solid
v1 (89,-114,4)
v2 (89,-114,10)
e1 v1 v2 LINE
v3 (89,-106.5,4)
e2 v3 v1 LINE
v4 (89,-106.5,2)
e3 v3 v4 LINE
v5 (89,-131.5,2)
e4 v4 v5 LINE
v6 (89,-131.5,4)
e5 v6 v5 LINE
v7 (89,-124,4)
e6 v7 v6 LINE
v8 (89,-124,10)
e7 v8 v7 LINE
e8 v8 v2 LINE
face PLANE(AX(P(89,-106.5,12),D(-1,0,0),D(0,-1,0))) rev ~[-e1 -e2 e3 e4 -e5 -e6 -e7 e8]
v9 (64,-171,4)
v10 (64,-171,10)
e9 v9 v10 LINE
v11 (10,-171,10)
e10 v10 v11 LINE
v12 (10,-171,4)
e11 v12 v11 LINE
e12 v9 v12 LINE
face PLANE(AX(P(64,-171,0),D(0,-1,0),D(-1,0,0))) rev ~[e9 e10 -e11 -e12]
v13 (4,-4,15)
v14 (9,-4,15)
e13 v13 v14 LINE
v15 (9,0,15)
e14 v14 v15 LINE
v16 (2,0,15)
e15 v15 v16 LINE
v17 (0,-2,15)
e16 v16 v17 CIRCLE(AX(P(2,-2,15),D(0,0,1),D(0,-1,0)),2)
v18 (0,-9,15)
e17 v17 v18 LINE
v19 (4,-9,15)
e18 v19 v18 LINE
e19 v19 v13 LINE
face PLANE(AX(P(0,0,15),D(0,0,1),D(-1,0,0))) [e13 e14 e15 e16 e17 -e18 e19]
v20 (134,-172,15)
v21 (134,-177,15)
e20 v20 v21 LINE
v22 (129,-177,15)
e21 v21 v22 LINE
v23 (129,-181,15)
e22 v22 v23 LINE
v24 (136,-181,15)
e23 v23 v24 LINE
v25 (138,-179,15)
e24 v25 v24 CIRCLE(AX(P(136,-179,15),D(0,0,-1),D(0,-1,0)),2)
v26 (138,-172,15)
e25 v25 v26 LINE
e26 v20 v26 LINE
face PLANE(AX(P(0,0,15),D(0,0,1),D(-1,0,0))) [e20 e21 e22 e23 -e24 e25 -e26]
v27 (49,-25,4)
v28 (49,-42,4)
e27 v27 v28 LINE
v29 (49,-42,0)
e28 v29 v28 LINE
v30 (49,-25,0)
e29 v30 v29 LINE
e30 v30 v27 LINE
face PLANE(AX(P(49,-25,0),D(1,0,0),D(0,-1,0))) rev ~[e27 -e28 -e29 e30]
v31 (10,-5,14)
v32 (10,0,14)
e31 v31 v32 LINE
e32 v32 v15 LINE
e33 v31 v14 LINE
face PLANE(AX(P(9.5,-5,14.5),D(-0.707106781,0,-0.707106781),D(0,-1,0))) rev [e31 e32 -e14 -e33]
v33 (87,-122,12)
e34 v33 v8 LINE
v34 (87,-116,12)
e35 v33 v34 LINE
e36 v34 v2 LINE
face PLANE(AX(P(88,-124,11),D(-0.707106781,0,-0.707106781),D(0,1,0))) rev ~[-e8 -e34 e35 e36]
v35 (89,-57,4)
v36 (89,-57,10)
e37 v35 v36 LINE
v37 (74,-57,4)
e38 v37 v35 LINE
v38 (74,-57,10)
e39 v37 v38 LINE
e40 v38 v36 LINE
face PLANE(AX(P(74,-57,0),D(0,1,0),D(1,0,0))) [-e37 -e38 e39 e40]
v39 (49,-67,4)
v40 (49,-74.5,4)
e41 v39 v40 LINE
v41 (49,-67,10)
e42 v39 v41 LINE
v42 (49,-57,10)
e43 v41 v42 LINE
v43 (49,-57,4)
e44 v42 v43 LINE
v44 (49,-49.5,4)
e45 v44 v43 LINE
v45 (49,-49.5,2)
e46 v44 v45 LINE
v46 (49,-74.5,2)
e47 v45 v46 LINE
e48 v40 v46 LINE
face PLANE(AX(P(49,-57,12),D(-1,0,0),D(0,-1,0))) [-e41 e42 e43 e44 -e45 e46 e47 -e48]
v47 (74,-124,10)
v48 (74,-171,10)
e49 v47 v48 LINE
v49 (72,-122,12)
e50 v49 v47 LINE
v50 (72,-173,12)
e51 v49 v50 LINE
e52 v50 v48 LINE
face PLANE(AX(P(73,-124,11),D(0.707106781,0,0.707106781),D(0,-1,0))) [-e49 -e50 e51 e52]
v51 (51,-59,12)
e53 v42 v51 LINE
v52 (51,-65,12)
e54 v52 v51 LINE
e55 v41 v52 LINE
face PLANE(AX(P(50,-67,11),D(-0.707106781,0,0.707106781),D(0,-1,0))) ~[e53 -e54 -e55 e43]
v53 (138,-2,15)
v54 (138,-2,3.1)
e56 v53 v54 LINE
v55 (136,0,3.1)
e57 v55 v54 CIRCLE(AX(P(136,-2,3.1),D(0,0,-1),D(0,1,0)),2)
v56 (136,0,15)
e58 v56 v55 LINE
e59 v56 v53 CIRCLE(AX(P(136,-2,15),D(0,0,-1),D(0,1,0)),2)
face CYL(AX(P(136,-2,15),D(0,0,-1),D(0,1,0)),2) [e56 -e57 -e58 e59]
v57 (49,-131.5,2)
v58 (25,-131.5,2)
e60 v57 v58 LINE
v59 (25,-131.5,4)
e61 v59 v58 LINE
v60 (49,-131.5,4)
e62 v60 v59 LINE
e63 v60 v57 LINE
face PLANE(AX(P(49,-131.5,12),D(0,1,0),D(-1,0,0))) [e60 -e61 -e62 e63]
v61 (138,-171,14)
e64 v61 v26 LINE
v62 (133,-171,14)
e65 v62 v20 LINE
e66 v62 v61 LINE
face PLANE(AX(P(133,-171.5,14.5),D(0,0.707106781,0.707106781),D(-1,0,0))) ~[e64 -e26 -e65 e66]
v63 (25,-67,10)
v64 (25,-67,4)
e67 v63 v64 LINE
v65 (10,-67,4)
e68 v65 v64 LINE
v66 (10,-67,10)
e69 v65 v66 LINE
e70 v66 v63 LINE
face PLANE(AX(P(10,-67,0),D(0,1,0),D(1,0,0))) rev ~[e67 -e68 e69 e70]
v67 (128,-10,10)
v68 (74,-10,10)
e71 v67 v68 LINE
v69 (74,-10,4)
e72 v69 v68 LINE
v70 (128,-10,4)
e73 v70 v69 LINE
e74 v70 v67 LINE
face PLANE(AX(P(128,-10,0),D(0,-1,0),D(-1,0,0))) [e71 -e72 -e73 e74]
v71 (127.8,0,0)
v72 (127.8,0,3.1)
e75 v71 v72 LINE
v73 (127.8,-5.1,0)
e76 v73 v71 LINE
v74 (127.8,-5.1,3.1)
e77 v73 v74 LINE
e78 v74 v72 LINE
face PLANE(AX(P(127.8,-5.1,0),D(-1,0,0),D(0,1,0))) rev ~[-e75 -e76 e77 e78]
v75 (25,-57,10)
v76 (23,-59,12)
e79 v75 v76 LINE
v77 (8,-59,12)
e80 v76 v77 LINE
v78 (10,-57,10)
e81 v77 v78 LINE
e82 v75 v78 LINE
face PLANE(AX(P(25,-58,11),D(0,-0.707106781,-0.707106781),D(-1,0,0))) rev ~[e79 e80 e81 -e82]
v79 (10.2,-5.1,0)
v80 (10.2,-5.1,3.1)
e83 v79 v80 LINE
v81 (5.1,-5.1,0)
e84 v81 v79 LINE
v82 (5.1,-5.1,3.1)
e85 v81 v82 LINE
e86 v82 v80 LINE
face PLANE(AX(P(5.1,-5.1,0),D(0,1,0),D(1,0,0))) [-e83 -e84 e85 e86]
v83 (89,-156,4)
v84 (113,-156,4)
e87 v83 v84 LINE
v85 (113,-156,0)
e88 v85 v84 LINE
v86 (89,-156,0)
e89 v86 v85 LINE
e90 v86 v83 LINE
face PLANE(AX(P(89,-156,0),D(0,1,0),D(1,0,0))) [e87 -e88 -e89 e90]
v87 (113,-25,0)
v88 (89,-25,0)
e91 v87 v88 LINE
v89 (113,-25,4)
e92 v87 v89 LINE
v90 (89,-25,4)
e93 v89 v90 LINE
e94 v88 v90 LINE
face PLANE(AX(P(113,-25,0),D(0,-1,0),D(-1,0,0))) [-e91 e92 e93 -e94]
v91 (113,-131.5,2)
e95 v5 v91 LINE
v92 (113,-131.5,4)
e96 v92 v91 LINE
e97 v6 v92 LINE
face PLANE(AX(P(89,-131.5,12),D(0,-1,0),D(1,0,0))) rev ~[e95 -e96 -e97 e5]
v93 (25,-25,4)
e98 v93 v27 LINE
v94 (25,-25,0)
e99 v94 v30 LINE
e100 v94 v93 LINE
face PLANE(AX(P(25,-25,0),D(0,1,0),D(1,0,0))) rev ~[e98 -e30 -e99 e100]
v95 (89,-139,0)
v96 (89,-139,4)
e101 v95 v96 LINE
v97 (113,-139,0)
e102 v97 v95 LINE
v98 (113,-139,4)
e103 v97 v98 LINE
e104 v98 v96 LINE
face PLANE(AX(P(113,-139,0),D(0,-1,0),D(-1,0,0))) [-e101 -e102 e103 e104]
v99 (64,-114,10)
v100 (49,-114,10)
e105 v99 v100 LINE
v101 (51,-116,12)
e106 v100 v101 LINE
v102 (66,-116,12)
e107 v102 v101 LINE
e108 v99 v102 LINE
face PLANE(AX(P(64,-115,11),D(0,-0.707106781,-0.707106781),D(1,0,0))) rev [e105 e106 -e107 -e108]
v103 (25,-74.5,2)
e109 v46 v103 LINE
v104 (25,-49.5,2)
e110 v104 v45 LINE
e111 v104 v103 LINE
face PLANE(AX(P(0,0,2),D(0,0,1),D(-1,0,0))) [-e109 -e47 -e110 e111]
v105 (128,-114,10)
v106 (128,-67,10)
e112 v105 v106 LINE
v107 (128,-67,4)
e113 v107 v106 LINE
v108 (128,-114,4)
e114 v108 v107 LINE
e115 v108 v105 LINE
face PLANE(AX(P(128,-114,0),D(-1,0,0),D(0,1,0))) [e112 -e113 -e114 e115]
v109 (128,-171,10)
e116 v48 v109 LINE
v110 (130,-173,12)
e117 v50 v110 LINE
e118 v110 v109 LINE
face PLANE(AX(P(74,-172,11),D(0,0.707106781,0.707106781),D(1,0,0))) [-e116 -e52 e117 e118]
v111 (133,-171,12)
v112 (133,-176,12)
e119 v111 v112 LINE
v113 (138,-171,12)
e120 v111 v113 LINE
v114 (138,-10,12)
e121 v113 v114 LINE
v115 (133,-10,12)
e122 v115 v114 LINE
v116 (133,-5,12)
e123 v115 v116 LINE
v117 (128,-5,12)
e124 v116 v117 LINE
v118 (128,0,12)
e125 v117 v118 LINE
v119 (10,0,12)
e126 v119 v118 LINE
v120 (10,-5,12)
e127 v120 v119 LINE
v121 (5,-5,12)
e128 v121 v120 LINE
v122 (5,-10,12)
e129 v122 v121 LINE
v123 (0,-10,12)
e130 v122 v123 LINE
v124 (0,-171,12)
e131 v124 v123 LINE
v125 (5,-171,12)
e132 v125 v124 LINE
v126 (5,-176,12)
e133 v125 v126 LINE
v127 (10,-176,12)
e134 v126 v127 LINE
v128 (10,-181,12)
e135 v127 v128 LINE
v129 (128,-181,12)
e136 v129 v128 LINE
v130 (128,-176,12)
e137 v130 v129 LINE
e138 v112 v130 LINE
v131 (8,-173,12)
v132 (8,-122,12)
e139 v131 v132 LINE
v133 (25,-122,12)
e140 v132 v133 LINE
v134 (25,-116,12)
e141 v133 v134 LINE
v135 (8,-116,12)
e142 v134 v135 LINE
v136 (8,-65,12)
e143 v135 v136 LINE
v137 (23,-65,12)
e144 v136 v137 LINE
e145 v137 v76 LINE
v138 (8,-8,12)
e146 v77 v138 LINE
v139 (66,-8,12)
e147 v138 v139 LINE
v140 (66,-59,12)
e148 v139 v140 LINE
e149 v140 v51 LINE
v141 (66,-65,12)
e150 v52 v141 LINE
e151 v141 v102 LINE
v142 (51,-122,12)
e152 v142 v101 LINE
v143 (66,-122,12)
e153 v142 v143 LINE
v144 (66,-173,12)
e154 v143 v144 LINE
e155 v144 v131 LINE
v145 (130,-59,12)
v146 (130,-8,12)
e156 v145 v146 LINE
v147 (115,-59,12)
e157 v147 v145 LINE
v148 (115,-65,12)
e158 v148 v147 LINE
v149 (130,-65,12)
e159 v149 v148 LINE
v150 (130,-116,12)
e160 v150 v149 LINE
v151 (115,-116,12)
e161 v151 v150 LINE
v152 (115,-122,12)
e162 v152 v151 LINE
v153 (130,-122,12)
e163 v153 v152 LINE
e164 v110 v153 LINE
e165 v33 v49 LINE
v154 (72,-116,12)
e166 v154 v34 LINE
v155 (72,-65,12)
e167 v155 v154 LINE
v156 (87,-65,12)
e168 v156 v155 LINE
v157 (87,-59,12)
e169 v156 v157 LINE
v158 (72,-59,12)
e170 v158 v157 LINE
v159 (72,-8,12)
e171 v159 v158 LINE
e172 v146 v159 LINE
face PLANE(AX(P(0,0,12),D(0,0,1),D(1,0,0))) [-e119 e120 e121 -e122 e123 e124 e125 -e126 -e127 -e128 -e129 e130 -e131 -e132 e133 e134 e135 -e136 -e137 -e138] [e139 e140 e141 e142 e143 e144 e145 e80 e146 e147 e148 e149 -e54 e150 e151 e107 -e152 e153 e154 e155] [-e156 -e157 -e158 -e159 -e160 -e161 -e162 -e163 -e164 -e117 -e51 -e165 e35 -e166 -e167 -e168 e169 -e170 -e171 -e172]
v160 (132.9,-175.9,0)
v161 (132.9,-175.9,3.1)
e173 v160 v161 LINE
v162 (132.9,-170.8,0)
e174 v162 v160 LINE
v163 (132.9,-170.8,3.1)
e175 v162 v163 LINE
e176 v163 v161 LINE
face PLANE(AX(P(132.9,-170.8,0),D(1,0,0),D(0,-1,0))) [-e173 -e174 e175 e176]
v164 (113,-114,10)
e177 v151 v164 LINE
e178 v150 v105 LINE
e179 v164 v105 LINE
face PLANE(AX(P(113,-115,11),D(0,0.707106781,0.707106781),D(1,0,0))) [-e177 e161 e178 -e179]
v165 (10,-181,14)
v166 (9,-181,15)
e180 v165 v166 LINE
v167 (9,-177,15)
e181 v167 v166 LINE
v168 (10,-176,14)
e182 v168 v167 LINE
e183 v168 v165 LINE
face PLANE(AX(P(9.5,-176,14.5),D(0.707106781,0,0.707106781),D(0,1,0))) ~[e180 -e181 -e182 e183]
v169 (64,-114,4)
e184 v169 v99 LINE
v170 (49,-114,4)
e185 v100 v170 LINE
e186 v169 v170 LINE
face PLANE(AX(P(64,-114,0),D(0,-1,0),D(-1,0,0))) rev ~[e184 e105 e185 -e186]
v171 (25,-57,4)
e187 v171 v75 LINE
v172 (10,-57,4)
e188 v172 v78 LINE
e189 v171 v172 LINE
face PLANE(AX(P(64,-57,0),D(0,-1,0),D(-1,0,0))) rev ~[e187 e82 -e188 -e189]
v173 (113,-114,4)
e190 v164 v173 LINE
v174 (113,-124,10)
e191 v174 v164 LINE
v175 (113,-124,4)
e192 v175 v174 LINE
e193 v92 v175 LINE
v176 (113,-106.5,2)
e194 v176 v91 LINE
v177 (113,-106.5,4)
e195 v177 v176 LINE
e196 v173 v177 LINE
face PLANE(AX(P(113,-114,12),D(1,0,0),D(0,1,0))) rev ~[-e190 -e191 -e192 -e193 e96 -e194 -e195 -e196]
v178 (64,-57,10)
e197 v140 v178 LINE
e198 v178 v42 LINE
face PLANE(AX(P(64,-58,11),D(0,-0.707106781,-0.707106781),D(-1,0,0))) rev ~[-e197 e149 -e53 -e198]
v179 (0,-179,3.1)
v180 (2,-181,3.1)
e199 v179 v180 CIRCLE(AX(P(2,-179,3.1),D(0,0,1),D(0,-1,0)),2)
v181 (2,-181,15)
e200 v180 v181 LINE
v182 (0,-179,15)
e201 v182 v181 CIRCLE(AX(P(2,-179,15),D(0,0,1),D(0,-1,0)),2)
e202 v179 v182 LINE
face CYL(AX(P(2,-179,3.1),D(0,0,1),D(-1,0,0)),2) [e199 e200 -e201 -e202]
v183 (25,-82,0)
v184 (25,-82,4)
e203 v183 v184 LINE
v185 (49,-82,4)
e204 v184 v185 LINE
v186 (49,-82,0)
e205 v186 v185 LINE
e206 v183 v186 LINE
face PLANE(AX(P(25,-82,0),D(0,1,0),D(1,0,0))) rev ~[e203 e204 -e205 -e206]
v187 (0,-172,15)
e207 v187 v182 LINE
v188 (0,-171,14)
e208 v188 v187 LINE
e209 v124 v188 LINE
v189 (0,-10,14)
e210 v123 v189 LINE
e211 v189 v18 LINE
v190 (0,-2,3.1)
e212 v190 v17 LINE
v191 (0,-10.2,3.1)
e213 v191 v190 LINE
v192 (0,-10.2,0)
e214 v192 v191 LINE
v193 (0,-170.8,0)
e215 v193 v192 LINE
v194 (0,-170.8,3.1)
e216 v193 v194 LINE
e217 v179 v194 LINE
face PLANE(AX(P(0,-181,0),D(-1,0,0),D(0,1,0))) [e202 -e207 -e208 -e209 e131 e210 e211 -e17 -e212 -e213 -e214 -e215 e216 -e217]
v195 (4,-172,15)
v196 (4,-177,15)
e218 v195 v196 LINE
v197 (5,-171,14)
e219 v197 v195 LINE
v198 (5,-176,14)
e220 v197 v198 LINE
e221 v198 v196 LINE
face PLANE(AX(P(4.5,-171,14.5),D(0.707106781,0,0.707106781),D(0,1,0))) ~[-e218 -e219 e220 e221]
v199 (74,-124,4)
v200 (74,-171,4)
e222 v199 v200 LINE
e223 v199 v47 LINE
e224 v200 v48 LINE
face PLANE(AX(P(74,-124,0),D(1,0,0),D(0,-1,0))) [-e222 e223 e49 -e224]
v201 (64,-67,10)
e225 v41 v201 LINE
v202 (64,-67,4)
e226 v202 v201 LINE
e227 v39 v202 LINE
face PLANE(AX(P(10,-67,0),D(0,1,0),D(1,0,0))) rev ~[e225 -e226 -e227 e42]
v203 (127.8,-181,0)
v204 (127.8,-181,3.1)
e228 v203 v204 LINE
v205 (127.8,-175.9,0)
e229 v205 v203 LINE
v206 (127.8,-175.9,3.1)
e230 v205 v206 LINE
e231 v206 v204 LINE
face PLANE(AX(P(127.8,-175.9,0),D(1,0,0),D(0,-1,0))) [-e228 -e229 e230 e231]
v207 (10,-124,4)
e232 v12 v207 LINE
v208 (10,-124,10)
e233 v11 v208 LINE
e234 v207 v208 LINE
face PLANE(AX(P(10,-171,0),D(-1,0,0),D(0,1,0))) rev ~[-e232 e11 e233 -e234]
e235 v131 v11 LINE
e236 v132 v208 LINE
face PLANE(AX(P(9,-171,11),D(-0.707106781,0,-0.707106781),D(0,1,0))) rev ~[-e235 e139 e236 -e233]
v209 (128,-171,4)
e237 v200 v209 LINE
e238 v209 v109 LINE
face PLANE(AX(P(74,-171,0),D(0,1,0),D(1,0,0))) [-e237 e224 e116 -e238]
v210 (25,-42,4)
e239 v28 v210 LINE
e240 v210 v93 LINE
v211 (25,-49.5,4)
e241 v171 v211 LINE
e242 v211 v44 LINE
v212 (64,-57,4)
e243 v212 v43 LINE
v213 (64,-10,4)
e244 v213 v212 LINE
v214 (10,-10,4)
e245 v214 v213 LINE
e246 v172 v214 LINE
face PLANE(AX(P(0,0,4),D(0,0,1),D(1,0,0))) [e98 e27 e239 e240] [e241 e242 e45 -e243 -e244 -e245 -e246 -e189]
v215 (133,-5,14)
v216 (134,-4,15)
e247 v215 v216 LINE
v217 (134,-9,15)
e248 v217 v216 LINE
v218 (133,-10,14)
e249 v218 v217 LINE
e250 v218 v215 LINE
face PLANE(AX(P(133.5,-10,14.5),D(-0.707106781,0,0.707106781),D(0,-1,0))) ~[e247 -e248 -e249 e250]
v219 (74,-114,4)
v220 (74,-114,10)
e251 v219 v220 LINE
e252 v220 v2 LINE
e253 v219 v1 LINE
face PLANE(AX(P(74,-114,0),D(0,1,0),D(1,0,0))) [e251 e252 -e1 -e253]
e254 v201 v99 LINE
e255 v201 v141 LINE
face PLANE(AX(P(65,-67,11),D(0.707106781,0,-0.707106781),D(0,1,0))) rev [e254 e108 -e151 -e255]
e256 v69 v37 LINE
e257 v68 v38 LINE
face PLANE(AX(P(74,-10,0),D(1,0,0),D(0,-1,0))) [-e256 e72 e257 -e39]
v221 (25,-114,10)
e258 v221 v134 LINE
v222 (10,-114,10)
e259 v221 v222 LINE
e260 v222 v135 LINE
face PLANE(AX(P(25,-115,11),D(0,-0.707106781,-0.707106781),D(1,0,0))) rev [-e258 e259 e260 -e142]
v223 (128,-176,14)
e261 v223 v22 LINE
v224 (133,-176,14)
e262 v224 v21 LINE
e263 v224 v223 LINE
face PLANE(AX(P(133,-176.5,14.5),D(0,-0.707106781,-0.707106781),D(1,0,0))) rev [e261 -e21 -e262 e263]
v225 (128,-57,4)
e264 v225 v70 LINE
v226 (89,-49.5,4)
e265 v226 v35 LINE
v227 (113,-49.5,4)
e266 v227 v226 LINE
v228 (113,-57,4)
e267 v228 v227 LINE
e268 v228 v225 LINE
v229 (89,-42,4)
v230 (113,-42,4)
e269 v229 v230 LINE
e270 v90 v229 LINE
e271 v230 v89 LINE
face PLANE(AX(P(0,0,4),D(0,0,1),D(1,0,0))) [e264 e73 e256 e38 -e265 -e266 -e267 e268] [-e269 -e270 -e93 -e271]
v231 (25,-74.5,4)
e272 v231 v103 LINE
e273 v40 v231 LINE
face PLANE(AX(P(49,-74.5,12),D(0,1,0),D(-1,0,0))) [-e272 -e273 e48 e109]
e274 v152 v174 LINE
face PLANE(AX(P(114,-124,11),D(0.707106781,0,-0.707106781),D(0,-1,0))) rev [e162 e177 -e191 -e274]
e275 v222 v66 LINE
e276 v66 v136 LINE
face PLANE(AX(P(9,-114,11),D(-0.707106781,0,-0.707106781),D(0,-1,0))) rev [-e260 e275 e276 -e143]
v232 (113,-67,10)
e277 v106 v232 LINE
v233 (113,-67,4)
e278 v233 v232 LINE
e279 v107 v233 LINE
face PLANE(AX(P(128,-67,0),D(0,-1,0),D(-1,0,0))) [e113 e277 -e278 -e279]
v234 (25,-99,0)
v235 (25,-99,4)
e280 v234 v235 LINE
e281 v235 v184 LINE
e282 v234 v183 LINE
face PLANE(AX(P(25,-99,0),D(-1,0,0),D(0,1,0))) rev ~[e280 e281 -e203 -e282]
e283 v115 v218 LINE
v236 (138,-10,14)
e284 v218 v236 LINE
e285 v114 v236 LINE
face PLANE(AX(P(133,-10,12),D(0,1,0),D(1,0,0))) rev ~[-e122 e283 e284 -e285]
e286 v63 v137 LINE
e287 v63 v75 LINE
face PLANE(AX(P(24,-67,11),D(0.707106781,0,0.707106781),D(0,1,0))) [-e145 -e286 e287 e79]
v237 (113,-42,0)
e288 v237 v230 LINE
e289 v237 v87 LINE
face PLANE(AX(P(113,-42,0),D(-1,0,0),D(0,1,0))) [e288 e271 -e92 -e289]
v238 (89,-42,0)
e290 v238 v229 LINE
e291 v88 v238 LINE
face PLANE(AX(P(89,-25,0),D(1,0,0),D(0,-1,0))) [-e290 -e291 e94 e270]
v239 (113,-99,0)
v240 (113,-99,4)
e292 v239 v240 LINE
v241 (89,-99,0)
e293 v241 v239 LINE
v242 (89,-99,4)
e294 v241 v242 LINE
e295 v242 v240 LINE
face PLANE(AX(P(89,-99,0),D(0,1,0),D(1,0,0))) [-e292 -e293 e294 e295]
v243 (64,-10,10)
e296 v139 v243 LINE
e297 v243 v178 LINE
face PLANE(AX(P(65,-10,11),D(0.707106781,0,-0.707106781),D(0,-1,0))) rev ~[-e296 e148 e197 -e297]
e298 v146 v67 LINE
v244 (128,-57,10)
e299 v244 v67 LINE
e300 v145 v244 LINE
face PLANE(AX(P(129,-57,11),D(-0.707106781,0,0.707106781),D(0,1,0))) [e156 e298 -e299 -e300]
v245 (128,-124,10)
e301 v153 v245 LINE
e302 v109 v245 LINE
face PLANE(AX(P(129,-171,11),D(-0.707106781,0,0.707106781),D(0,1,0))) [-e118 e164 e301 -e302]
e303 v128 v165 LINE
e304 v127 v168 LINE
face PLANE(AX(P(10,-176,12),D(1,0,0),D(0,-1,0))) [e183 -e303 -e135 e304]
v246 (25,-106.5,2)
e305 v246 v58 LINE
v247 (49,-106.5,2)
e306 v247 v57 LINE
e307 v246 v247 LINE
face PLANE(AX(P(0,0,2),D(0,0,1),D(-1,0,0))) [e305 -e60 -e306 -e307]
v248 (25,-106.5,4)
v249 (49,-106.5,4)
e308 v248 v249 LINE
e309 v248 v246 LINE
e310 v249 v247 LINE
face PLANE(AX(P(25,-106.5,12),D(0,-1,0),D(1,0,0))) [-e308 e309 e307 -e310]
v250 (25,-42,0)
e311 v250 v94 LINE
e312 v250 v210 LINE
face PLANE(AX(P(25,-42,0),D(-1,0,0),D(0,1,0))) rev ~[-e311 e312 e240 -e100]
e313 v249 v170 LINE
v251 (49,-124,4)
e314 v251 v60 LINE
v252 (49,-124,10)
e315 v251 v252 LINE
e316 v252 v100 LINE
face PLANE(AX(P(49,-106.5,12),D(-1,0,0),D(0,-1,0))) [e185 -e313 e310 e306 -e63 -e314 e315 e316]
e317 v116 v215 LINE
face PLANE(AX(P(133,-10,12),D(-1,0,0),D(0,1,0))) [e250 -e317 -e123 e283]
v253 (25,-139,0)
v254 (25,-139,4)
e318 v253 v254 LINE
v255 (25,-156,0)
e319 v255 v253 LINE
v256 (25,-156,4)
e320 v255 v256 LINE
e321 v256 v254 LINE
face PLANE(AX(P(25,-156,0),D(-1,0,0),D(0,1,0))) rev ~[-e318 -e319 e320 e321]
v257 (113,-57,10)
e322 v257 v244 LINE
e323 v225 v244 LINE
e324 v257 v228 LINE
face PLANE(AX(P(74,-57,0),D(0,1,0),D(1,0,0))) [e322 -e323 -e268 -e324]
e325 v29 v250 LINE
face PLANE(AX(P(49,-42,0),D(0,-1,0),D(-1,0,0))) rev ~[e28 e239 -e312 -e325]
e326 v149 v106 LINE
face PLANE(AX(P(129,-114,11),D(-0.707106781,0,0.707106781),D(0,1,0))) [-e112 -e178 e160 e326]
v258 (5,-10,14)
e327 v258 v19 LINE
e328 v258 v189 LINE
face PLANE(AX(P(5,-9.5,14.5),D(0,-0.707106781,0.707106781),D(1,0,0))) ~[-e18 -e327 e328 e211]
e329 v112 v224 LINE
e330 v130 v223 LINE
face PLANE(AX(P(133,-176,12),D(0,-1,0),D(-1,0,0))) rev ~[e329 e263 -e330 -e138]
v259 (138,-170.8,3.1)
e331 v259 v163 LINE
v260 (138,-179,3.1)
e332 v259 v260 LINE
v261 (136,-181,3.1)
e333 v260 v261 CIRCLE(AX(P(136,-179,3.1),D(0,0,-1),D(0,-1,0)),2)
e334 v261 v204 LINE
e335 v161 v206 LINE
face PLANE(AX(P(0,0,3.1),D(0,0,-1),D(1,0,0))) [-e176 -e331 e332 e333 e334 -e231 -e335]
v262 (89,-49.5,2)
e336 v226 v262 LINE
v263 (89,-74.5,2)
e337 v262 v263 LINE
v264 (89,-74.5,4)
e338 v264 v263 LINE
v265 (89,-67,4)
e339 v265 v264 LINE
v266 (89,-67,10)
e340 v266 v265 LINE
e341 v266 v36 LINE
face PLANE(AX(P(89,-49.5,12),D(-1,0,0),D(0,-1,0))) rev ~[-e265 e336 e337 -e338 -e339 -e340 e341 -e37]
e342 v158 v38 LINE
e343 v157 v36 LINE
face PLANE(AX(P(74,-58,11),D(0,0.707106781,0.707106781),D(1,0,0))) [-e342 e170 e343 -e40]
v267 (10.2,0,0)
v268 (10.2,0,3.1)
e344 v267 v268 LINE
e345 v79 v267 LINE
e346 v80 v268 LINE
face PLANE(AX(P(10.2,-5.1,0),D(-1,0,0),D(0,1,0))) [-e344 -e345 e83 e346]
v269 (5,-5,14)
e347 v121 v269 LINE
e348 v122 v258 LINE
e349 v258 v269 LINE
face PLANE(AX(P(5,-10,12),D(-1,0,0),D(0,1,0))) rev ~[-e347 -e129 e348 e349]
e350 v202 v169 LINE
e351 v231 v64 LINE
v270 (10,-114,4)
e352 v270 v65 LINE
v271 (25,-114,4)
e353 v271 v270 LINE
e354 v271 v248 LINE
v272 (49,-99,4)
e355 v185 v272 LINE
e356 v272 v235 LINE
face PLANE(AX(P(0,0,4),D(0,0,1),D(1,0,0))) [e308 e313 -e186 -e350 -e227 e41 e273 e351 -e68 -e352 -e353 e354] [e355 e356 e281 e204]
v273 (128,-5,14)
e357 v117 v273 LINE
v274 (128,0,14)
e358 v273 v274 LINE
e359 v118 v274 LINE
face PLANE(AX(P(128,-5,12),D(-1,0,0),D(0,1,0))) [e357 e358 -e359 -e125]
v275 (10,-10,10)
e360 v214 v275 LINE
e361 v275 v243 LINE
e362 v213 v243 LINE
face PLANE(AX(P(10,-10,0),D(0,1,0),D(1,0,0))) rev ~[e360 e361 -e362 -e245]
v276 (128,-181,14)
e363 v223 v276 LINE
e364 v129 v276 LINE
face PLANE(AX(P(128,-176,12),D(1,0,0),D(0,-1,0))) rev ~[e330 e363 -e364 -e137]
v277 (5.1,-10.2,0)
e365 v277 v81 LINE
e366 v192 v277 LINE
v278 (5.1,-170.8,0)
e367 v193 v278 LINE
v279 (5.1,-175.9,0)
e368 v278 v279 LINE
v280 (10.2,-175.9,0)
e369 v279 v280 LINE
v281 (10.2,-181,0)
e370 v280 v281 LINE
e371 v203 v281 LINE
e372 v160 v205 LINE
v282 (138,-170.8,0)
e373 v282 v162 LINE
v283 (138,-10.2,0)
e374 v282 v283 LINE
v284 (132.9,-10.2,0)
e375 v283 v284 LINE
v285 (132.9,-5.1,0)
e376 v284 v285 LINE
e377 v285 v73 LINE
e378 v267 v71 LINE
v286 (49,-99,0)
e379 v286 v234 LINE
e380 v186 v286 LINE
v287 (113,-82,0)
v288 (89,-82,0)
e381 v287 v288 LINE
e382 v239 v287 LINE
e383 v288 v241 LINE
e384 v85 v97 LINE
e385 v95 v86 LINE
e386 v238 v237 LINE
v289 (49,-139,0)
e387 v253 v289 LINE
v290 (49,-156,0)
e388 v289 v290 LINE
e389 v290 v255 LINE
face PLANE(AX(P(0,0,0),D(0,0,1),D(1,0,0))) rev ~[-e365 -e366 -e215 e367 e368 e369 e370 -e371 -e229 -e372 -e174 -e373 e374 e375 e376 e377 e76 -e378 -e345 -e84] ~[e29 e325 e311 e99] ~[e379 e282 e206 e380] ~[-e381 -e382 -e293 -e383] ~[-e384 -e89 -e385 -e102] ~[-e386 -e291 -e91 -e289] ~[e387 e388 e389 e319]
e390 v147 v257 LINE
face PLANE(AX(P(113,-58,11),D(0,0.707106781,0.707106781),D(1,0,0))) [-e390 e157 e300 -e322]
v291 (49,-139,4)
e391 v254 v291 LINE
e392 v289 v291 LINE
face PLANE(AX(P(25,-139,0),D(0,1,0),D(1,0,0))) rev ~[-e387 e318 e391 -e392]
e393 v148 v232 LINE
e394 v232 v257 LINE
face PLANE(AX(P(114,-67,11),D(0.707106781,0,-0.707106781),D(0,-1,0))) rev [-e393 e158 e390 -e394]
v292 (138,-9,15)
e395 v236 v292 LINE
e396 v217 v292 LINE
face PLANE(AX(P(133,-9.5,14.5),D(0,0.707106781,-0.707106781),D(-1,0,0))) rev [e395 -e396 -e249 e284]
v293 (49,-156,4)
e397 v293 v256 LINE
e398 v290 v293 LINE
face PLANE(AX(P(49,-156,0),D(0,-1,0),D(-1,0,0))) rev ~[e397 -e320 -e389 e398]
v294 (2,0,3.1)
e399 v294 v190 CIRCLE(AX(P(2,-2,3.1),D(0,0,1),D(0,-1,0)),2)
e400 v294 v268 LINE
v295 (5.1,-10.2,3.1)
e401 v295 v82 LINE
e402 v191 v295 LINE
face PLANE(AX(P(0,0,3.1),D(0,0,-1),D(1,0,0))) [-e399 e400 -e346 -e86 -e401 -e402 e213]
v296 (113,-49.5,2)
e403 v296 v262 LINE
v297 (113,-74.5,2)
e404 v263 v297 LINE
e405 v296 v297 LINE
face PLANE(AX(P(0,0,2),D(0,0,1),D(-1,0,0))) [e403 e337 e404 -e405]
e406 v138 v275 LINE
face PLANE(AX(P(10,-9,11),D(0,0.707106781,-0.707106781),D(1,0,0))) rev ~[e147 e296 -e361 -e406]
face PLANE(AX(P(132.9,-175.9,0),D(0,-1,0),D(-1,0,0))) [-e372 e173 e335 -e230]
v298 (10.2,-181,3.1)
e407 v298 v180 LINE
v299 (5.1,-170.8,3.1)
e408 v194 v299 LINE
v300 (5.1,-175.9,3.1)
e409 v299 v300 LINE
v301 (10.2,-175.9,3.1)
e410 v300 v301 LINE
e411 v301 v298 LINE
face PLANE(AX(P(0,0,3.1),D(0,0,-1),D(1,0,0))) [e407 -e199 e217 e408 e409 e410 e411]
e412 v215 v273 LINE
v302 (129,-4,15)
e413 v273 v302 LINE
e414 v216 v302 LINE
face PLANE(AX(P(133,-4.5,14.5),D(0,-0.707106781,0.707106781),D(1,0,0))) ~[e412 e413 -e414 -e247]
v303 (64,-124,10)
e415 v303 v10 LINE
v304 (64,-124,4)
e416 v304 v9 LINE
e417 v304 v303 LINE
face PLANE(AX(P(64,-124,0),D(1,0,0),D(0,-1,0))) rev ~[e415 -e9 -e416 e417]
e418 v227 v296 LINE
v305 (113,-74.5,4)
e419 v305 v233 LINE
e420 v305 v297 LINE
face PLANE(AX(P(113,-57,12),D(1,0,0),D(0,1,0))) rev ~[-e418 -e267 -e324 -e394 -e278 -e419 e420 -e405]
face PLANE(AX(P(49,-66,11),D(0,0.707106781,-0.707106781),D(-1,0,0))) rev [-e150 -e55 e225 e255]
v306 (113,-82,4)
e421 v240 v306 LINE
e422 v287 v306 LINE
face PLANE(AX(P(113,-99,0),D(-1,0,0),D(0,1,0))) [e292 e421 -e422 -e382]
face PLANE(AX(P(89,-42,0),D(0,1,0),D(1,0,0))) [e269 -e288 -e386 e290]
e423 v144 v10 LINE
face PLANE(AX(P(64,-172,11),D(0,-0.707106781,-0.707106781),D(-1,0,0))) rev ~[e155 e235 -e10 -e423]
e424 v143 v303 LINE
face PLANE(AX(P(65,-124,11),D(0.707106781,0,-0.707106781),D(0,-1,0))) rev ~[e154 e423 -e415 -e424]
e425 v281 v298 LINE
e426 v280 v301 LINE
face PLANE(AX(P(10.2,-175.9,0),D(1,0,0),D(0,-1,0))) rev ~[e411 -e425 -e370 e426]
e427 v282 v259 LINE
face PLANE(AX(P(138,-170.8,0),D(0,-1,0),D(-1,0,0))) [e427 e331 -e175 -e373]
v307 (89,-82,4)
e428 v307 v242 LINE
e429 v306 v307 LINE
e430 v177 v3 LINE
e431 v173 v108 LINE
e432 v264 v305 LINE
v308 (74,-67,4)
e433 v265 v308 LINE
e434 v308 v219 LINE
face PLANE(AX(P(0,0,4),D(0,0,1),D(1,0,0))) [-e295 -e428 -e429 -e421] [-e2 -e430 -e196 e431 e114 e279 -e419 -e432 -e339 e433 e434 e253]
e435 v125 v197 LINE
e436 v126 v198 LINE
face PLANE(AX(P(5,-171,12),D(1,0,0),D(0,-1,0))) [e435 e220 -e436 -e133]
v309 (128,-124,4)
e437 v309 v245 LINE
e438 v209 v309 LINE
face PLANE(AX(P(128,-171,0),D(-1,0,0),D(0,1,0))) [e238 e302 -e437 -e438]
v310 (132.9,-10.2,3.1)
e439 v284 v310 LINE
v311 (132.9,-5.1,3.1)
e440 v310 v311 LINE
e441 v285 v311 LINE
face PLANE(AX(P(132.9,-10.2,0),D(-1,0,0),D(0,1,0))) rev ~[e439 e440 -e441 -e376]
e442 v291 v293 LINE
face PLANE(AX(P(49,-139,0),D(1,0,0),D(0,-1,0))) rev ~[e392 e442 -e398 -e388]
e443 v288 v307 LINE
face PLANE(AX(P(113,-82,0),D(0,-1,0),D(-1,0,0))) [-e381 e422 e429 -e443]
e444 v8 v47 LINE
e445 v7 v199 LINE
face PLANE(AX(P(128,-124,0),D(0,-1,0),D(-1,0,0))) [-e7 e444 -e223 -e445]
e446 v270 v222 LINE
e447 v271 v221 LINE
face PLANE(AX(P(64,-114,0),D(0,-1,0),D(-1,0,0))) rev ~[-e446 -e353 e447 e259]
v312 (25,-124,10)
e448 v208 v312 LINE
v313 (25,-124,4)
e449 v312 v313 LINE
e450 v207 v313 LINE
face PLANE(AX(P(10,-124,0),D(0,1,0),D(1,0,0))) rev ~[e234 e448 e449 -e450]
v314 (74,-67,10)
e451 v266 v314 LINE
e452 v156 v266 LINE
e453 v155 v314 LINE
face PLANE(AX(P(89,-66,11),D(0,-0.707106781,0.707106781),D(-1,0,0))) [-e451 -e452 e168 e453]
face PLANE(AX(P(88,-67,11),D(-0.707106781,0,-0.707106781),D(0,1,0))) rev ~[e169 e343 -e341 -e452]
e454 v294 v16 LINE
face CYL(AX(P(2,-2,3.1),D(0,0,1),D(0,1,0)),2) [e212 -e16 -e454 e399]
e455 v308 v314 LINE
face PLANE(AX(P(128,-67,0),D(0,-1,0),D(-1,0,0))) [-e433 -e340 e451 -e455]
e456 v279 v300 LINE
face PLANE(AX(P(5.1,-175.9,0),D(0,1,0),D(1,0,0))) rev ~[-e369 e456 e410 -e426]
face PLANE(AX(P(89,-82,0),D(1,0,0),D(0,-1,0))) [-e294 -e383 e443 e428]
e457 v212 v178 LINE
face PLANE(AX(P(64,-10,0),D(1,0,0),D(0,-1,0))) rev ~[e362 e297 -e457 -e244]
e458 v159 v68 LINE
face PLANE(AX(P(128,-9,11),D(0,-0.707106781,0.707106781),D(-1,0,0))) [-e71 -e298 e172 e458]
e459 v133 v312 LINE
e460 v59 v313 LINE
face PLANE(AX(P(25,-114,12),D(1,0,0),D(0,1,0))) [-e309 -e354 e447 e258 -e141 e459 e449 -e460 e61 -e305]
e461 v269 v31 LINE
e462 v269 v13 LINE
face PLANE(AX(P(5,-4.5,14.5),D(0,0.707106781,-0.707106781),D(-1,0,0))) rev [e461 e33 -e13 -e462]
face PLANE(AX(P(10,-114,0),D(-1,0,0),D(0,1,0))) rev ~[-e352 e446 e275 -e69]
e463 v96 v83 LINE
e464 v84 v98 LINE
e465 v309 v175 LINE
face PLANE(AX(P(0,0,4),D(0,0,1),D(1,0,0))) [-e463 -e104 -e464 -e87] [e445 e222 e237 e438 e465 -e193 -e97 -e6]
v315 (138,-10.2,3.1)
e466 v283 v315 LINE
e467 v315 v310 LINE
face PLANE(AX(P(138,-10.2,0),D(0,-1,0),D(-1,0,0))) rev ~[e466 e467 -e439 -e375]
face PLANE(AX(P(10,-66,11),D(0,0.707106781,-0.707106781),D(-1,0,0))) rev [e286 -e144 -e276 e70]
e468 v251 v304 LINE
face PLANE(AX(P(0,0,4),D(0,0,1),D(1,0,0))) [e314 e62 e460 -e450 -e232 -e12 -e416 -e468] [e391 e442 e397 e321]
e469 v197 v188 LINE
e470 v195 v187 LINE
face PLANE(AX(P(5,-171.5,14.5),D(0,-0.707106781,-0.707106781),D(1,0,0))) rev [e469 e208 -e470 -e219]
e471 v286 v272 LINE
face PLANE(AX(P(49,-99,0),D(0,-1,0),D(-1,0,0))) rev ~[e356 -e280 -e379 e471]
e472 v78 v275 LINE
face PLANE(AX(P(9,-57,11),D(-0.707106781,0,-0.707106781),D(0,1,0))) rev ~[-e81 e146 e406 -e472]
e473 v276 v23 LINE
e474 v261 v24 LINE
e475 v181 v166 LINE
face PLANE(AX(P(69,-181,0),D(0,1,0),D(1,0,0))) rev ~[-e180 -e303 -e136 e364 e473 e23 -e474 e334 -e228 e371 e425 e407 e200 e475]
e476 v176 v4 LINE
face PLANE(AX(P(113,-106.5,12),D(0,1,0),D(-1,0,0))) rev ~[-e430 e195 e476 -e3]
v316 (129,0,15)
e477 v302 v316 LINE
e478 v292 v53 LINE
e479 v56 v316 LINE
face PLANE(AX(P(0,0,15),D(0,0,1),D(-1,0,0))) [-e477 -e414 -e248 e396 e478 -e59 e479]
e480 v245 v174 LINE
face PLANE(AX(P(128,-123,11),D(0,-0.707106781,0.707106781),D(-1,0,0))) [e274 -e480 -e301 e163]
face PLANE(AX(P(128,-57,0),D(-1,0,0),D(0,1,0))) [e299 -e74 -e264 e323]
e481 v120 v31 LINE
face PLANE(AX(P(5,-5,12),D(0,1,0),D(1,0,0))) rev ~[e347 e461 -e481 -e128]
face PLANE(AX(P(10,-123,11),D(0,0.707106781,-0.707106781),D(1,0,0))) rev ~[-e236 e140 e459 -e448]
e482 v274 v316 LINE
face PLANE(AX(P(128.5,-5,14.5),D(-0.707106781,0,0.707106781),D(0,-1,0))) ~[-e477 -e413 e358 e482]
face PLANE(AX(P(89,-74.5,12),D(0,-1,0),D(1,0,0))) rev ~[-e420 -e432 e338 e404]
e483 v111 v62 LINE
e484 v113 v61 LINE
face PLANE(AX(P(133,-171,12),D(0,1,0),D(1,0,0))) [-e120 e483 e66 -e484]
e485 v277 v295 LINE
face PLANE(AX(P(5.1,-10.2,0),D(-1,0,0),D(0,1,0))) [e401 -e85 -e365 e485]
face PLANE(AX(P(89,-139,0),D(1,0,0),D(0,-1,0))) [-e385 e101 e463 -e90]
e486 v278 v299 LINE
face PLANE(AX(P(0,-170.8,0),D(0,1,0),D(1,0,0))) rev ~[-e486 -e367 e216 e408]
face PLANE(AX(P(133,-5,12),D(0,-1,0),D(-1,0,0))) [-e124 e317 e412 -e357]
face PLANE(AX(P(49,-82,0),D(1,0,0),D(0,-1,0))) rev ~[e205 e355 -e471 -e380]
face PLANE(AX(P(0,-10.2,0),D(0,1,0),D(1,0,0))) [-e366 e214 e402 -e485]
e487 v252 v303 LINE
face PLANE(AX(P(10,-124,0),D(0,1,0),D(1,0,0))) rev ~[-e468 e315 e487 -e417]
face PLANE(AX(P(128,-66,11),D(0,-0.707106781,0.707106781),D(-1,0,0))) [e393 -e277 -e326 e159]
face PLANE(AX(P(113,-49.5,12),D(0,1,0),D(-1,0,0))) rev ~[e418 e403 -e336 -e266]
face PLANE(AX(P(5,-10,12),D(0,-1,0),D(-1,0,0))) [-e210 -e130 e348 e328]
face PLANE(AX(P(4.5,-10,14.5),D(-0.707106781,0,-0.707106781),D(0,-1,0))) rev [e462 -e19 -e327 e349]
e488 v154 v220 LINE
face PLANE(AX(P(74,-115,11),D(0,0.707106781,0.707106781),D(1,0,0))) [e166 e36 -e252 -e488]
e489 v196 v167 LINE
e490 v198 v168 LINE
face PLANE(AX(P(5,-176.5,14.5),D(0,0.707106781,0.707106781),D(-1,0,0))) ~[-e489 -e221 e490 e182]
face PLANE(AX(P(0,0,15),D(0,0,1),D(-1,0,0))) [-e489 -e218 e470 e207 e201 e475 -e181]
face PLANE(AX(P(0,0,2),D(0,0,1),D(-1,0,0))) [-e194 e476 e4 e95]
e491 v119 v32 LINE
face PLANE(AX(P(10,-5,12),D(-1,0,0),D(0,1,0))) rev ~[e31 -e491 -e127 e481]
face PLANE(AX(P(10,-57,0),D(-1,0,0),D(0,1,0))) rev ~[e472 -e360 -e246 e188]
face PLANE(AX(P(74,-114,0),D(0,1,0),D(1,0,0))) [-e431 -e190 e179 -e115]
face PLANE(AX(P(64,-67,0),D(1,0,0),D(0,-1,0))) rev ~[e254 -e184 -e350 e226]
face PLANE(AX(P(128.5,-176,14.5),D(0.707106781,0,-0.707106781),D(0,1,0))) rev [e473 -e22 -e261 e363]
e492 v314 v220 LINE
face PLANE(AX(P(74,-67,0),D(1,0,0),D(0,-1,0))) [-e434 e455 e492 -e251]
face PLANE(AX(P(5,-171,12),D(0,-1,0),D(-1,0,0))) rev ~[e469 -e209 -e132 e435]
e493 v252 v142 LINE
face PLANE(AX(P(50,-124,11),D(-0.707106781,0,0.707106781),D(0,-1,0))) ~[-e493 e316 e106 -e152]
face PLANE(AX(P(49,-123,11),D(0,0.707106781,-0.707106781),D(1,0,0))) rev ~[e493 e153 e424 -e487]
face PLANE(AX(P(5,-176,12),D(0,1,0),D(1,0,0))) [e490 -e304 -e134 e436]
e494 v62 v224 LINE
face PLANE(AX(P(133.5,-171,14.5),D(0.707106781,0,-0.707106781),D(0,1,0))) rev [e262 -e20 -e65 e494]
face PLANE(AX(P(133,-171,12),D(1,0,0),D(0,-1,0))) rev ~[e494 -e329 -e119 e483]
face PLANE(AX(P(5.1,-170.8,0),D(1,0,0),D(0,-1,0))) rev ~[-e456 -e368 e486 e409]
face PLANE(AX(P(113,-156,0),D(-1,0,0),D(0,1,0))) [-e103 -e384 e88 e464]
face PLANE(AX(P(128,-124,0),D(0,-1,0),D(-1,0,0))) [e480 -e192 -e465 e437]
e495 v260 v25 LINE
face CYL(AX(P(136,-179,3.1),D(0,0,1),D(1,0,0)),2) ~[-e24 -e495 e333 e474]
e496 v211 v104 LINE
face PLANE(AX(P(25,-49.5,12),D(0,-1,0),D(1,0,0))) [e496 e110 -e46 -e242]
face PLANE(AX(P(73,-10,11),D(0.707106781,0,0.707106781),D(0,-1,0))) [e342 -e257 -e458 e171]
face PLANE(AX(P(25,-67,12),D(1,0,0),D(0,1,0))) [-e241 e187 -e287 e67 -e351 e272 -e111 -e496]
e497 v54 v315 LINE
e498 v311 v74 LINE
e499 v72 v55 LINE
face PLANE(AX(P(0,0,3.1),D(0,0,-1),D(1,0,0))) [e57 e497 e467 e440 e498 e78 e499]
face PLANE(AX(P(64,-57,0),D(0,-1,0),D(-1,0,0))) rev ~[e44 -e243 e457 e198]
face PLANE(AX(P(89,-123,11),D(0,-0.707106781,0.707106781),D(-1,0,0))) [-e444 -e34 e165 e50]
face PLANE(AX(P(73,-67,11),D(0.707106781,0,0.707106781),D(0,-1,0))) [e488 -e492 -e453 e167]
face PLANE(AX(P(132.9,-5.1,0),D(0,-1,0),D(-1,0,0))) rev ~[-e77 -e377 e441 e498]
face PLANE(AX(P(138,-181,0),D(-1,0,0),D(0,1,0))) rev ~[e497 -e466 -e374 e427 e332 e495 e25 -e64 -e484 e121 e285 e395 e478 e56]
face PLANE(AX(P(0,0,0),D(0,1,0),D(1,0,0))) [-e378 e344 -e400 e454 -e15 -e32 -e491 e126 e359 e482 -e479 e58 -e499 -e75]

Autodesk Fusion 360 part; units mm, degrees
sketch "Esquisse1" plane through (0, 0, 0) normal (0, 0, 1) x (1, 0, 0)
  line L0 (0, 0) -> (69, 0)
  line L1 (69, -181) -> (0, -181)
  line L2 (0, -181) -> (0, 0)
  line L3 (10, -10) -> (64, -10)
  line L4 (64, -10) -> (64, -57)
  line L5 (64, -57) -> (10, -57)
  line L6 (10, -57) -> (10, -10)
  line L7 (25, -25) -> (49, -25)
  line L8 (49, -25) -> (49, -42)
  line L9 (49, -42) -> (25, -42)
  line L10 (25, -42) -> (25, -25)
  line L11 (49, -99) -> (25, -99)
  line L12 (64, -114) -> (10, -114)
  line L13 (10, -114) -> (10, -67)
  line L14 (49, -82) -> (49, -99)
  line L15 (25, -99) -> (25, -82)
  line L16 (10, -67) -> (64, -67)
  line L17 (25, -82) -> (49, -82)
  line L18 (64, -67) -> (64, -114)
  line L19 (64, -171) -> (10, -171)
  line L20 (64, -124) -> (64, -171)
  line L21 (49, -156) -> (25, -156)
  line L22 (10, -171) -> (10, -124)
  line L23 (25, -139) -> (49, -139)
  line L24 (25, -156) -> (25, -139)
  line L25 (49, -139) -> (49, -156)
  line L26 (10, -124) -> (64, -124)
  line L27 (74, -67) -> (74, -114)
  line L28 (113, -139) -> (89, -139)
  line L29 (89, -99) -> (113, -99)
  line L30 (74, -171) -> (128, -171)
  line L31 (113, -156) -> (113, -139)
  line L32 (128, -57) -> (128, -10)
  line L33 (113, -25) -> (89, -25)
  line L34 (138, -181) -> (138, 0)
  line L35 (74, -124) -> (74, -171)
  line L36 (113, -82) -> (89, -82)
  line L37 (128, -124) -> (74, -124)
  line L38 (128, -114) -> (128, -67)
  line L39 (74, -57) -> (128, -57)
  line L40 (128, -171) -> (128, -124)
  line L41 (128, -10) -> (74, -10)
  line L42 (89, -156) -> (113, -156)
  line L43 (74, -114) -> (128, -114)
  line L44 (89, -42) -> (113, -42)
  line L45 (89, -139) -> (89, -156)
  line L46 (128, -67) -> (74, -67)
  line L47 (113, -99) -> (113, -82)
  line L48 (89, -25) -> (89, -42)
  line L49 (74, -10) -> (74, -57)
  line L50 (89, -82) -> (89, -99)
  line L51 (113, -42) -> (113, -25)
  line L52 (138, 0) -> (69, 0)
  line L53 (69, -181) -> (138, -181)
  point P0 (138, 0)
  dimension "d3" = 47
  dimension "d4" = 54
  dimension "d7" = 15
  dimension "d8" = 15
  dimension "d9" = 15
  dimension "d10" = 15
  dimension "d11" = 10
  dimension "d13" = 47
  dimension "d14" = 54
  dimension "d15" = 15
  dimension "d16" = 15
  dimension "d17" = 15
  dimension "d18" = 15
  dimension "d19" = 47
  dimension "d20" = 54
  dimension "d21" = 15
  dimension "d22" = 15
  dimension "d23" = 15
  dimension "d24" = 15
  dimension "d25" = 10
  dimension "d26" = 10
  dimension "d27" = 10
  dimension "d28" = 10
extrude "Extrusion1" add sketch "Esquisse1" along normal blind 4 contours L3 L4 L5 L6 | L12 L13 L16 L18 | L19 L20 L22 L26 | L27 L38 L43 L46 | L30 L35 L37 L40 | L32 L39 L41 L49 makes body 1 at (33, -109, 0) makes body 2 at (41, -52, 0) makes body 3 at (33, -166, 0) makes body 4 at (105, -109, 0) makes body 5 at (97, -52, 0) makes body 6 at (97, -166, 0)
extrude "Extrusion2" add sketch "Esquisse1" along normal blind 12 contours L0 L1 L2 L34 L52 L53 bodies 1 2 3 4 5 6
sketch "Esquisse2" plane through (0, 0, 12) normal (0, 0, 1) x (-1, 0, 0)
  line L0 (-10, 67) -> (-64, 67)
  line L1 (-64, 67) -> (-64, 114)
  line L2 (-64, 114) -> (-10, 114)
  line L3 (-10, 114) -> (-10, 67)
  line L4 (-10, 171) -> (-10, 124)
  line L5 (-10, 124) -> (-64, 124)
  line L6 (-64, 124) -> (-64, 171)
  line L7 (-64, 171) -> (-10, 171)
  line L8 (-74, 57) -> (-74, 10)
  line L9 (-74, 10) -> (-128, 10)
  line L10 (-128, 10) -> (-128, 57)
  line L11 (-128, 57) -> (-74, 57)
  line L12 (-128, 124) -> (-128, 171)
  line L13 (-128, 171) -> (-74, 171)
  line L14 (-74, 171) -> (-74, 124)
  line L15 (-74, 124) -> (-128, 124)
  line L16 (-74, 67) -> (-128, 67)
  line L17 (-128, 67) -> (-128, 114)
  line L18 (-128, 114) -> (-74, 114)
  line L19 (-74, 114) -> (-74, 67)
  line L20 (-64, 57) -> (-10, 57)
  line L21 (-10, 57) -> (-10, 10)
  line L22 (-10, 10) -> (-64, 10)
  line L23 (-64, 10) -> (-64, 57)
  line L24 (0, 181) -> (-138, 181)
  line L25 (-138, 181) -> (-138, 0)
  line L26 (-138, 0) -> (0, 0)
  line L27 (-25, 49.5) -> (-49, 49.5)
  line L28 (-49, 49.5) -> (-49, 74.5)
  line L29 (-49, 74.5) -> (-25, 74.5)
  line L30 (-25, 74.5) -> (-25, 49.5)
  line L31 (-25, 42) -> (-25, 25)
  line L32 (-49, 25) -> (-49, 42)
  line L33 (-25, 106.5) -> (-49, 106.5)
  line L34 (-49, 106.5) -> (-49, 131.5)
  line L35 (-49, 131.5) -> (-25, 131.5)
  line L36 (-25, 131.5) -> (-25, 106.5)
  line L37 (-25, 99) -> (-25, 82)
  line L38 (-49, 82) -> (-49, 99)
  line L39 (-69, 0) -> (-69, 181)
  line L40 (-113, 131.5) -> (-113, 106.5)
  line L41 (-89, 106.5) -> (-89, 131.5)
  line L42 (-113, 106.5) -> (-89, 106.5)
  line L43 (-89, 131.5) -> (-113, 131.5)
  line L44 (-113, 74.5) -> (-113, 49.5)
  line L45 (-89, 82) -> (-89, 99)
  line L46 (-89, 49.5) -> (-89, 74.5)
  line L47 (-113, 99) -> (-113, 82)
  line L48 (-89, 25) -> (-89, 42)
  line L49 (-113, 42) -> (-113, 25)
  line L50 (-113, 49.5) -> (-89, 49.5)
  line L51 (-89, 74.5) -> (-113, 74.5)
  dimension "d34" = 25
  dimension "d41" = 25
  dimension "d43" = 7.5
  dimension "d44" = 10
  dimension "d45" = 7.5
extrude "Extrusion3" cut sketch "Esquisse2" against normal blind 10 contours L0 L20 L28 L30 | L0 L28 L29 L30 | L20 L27 L28 L30 | L2 L33 L34 L36 | L2 L5 L34 L36 | L5 L34 L35 L36 | L11 L44 L46 L50 | L11 L16 L44 L46 | L16 L44 L46 L51 | L18 L40 L41 L42 | L15 L18 L40 L41 | L15 L40 L41 L43 bodies 1
sketch "Esquisse3" plane through (0, 0, 12) normal (0, 0, 1) x (-1, 0, 0)
  line L0 (0, 181) -> (-138, 181)
  line L1 (-138, 181) -> (-138, 0)
  line L2 (-138, 0) -> (0, 0)
  line L3 (0, 0) -> (0, 181)
  line L4 (-113, 57) -> (-113, 67)
  line L5 (-113, 67) -> (-128, 67)
  line L6 (-128, 67) -> (-128, 114)
  line L7 (-128, 114) -> (-113, 114)
  line L8 (-113, 114) -> (-113, 124)
  line L9 (-113, 124) -> (-128, 124)
  line L10 (-128, 124) -> (-128, 171)
  line L11 (-128, 171) -> (-74, 171)
  line L12 (-74, 171) -> (-74, 124)
  line L13 (-74, 124) -> (-89, 124)
  line L14 (-89, 124) -> (-89, 114)
  line L15 (-89, 114) -> (-74, 114)
  line L16 (-74, 114) -> (-74, 67)
  line L17 (-74, 67) -> (-89, 67)
  line L18 (-89, 67) -> (-89, 57)
  line L19 (-89, 57) -> (-74, 57)
  line L20 (-74, 57) -> (-74, 10)
  line L21 (-74, 10) -> (-128, 10)
  line L22 (-128, 10) -> (-128, 57)
  line L23 (-128, 57) -> (-113, 57)
  line L24 (-49, 57) -> (-49, 67)
  line L25 (-49, 67) -> (-64, 67)
  line L26 (-64, 67) -> (-64, 114)
  line L27 (-64, 114) -> (-49, 114)
  line L28 (-49, 114) -> (-49, 124)
  line L29 (-49, 124) -> (-64, 124)
  line L30 (-64, 124) -> (-64, 171)
  line L31 (-64, 171) -> (-10, 171)
  line L32 (-10, 171) -> (-10, 124)
  line L33 (-10, 124) -> (-25, 124)
  line L34 (-25, 124) -> (-25, 114)
  line L35 (-25, 114) -> (-10, 114)
  line L36 (-10, 114) -> (-10, 67)
  line L37 (-10, 67) -> (-25, 67)
  line L38 (-25, 67) -> (-25, 57)
  line L39 (-25, 57) -> (-10, 57)
  line L40 (-10, 57) -> (-10, 10)
  line L41 (-10, 10) -> (-64, 10)
  line L42 (-64, 10) -> (-64, 57)
  line L43 (-64, 57) -> (-49, 57)
  line L44 (0, 0) -> (0, 10)
  line L45 (-5, 10) -> (-5, 5)
  line L46 (-5, 5) -> (-10, 5)
  line L47 (-10, 5) -> (-10, 0)
  line L48 (0, 0) -> (-10, 0)
  line L49 (-5, 10) -> (0, 10)
  line L50 (-69, 0) -> (-69, 181)
  line L51 (0, 90.5) -> (-138, 90.5)
  line L52 (-133, 5) -> (-128, 5)
  line L53 (-138, 0) -> (-138, 10)
  line L54 (-133, 10) -> (-138, 10)
  line L55 (-138, 0) -> (-128, 0)
  line L56 (-133, 10) -> (-133, 5)
  line L57 (-128, 5) -> (-128, 0)
  line L58 (-133, 176) -> (-128, 176)
  line L59 (-5, 176) -> (-10, 176)
  line L60 (-5, 171) -> (0, 171)
  line L61 (0, 181) -> (-10, 181)
  line L62 (-133, 171) -> (-138, 171)
  line L63 (-128, 176) -> (-128, 181)
  line L64 (-133, 171) -> (-133, 176)
  line L65 (-10, 176) -> (-10, 181)
  line L66 (-138, 181) -> (-128, 181)
  line L67 (-138, 181) -> (-138, 171)
  line L68 (0, 181) -> (0, 171)
  line L69 (-5, 171) -> (-5, 176)
  point P0 (-138, 0)
  point P1 (-138, 0)
  point P2 (-138, 181)
  point P3 (-138, 181)
  point P4 (-74, 171)
  point P5 (0, 181)
  point P6 (-128, 171)
  point P7 (-64, 171)
  point P8 (0, 181)
  point P9 (-138, 181)
  point P10 (-10, 171)
  point P11 (-69, 181)
extrude "Extrusion4" add sketch "Esquisse3" along normal blind 3 contours L0 L3 L59 L60 L61 L65 L68 L69 | L0 L1 L58 L62 L63 L64 L66 L67 | L2 L3 L44 L45 L46 L47 L48 L49 | L1 L2 L52 L53 L54 L55 L56 L57 bodies 1
sketch "Esquisse4" plane through (0, 0, 0) normal (0, 0, -1) x (1, 0, 0)
  line L0 (49, 139) -> (25, 139)
  line L1 (25, 139) -> (25, 156)
  line L2 (25, 156) -> (49, 156)
  line L3 (49, 156) -> (49, 139)
  line L4 (25, 42) -> (49, 42)
  line L5 (49, 42) -> (49, 25)
  line L6 (49, 25) -> (25, 25)
  line L7 (25, 25) -> (25, 42)
  line L8 (89, 139) -> (89, 156)
  line L9 (89, 156) -> (113, 156)
  line L10 (113, 156) -> (113, 139)
  line L11 (113, 139) -> (89, 139)
  line L12 (138, 181) -> (0, 181)
  line L13 (0, 181) -> (0, 0)
  line L14 (0, 0) -> (138, 0)
  line L15 (138, 0) -> (138, 181)
  line L16 (89, 82) -> (89, 99)
  line L17 (89, 99) -> (113, 99)
  line L18 (113, 99) -> (113, 82)
  line L19 (113, 82) -> (89, 82)
  line L20 (25, 82) -> (25, 99)
  line L21 (25, 99) -> (49, 99)
  line L22 (49, 99) -> (49, 82)
  line L23 (49, 82) -> (25, 82)
  line L24 (113, 42) -> (113, 25)
  line L25 (113, 25) -> (89, 25)
  line L26 (89, 25) -> (89, 42)
  line L27 (89, 42) -> (113, 42)
  line L28 (0, 0) -> (0, 10.2)
  line L29 (5.1, 10.2) -> (5.1, 5.1)
  line L30 (5.1, 5.1) -> (10.2, 5.1)
  line L31 (10.2, 5.1) -> (10.2, 0)
  line L32 (0, 10.2) -> (5.1, 10.2)
  line L33 (69, 181) -> (69, 0)
  line L34 (0, 90.5) -> (138, 90.5)
  line L35 (138, 0) -> (138, 10.2)
  line L36 (138, 10.2) -> (132.9, 10.2)
  line L37 (132.9, 10.2) -> (132.9, 5.1)
  line L38 (132.9, 5.1) -> (127.8, 5.1)
  line L39 (127.8, 5.1) -> (127.8, 0)
  line L40 (0, 0) -> (10.2, 0)
  line L41 (127.8, 0) -> (138, 0)
  line L42 (0, 170.8) -> (5.1, 170.8)
  line L43 (5.1, 170.8) -> (5.1, 175.9)
  line L44 (5.1, 175.9) -> (10.2, 175.9)
  line L45 (10.2, 175.9) -> (10.2, 181)
  line L46 (0, 181) -> (10.2, 181)
  line L47 (132.9, 175.9) -> (127.8, 175.9)
  line L48 (127.8, 175.9) -> (127.8, 181)
  line L49 (127.8, 181) -> (138, 181)
  line L50 (138, 181) -> (138, 170.8)
  line L51 (138, 170.8) -> (132.9, 170.8)
  line L52 (132.9, 170.8) -> (132.9, 175.9)
  line L53 (0, 181) -> (0, 170.8)
  dimension "d52" = 5.1
  dimension "d53" = 5.1
  dimension "d54" = 5.1
  dimension "d55" = 10.2
  dimension "d56" = 10.2
  dimension "d57" = 5.1
extrude "Extrusion5" cut sketch "Esquisse4" against normal blind 3.1 contours L12 L15 L47 L48 L49 L50 L51 L52 | L12 L13 L42 L43 L44 L45 L46 L53 | L14 L15 L35 L36 L37 L38 L39 L41 | L13 L14 L28 L29 L30 L31 L32 L40 bodies 1
chamfer "Chanfrein1" distance 2 angle 45 39 edges at (10, -33.5, 12) (37, -10, 12) (64, -33.5, 12) (74, -33.5, 12) (101, -10, 12) (128, -33.5, 12) (120.5, -57, 12) (81.5, -67, 12) (89, -62, 12) (81.5, -57, 12) (113, -62, 12) (120.5, -67, 12) (128, -90.5, 12) (120.5, -114, 12) (113, -119, 12) (120.5, -124, 12) (128, -147.5, 12) (101, -171, 12) (74, -147.5, 12) (81.5, -124, 12) (89, -119, 12) (81.5, -114, 12) (74, -90.5, 12) (49, -62, 12) (56.5, -67, 12) (56.5, -57, 12) (64, -90.5, 12) (56.5, -114, 12) (49, -119, 12) (56.5, -124, 12) (64, -147.5, 12) (37, -171, 12) (10, -147.5, 12) (17.5, -124, 12) (17.5, -114, 12) (10, -90.5, 12) (17.5, -67, 12) (25, -62, 12) (17.5, -57, 12) on bodies 1
chamfer "Chanfrein2" distance 1 angle 45 16 edges at (2.5, -171, 15) (5, -173.5, 15) (7.5, -176, 15) (10, -178.5, 15) (128, -178.5, 15) (130.5, -176, 15) (133, -173.5, 15) (135.5, -171, 15) (130.5, -5, 15) (128, -2.5, 15) (135.5, -10, 15) (133, -7.5, 15) (2.5, -10, 15) (5, -7.5, 15) (7.5, -5, 15) (10, -2.5, 15) on bodies 1
fillet "Congé1" radius 2 4 edges at (138, -181, 9.05) (0, -181, 9.05) (138, 0, 9.05) (0, 0, 9.05) on bodies 1
equation "d37 = 47.00 mm"
equation "d38 = ( d39 + d37 ) - ( d34 / 4 )"
equation "d39 = 10.00 mm"
equation "d41 = d34"
equation "d43 = ( d34 - d44 ) / 2"
equation "d45 = d43"
